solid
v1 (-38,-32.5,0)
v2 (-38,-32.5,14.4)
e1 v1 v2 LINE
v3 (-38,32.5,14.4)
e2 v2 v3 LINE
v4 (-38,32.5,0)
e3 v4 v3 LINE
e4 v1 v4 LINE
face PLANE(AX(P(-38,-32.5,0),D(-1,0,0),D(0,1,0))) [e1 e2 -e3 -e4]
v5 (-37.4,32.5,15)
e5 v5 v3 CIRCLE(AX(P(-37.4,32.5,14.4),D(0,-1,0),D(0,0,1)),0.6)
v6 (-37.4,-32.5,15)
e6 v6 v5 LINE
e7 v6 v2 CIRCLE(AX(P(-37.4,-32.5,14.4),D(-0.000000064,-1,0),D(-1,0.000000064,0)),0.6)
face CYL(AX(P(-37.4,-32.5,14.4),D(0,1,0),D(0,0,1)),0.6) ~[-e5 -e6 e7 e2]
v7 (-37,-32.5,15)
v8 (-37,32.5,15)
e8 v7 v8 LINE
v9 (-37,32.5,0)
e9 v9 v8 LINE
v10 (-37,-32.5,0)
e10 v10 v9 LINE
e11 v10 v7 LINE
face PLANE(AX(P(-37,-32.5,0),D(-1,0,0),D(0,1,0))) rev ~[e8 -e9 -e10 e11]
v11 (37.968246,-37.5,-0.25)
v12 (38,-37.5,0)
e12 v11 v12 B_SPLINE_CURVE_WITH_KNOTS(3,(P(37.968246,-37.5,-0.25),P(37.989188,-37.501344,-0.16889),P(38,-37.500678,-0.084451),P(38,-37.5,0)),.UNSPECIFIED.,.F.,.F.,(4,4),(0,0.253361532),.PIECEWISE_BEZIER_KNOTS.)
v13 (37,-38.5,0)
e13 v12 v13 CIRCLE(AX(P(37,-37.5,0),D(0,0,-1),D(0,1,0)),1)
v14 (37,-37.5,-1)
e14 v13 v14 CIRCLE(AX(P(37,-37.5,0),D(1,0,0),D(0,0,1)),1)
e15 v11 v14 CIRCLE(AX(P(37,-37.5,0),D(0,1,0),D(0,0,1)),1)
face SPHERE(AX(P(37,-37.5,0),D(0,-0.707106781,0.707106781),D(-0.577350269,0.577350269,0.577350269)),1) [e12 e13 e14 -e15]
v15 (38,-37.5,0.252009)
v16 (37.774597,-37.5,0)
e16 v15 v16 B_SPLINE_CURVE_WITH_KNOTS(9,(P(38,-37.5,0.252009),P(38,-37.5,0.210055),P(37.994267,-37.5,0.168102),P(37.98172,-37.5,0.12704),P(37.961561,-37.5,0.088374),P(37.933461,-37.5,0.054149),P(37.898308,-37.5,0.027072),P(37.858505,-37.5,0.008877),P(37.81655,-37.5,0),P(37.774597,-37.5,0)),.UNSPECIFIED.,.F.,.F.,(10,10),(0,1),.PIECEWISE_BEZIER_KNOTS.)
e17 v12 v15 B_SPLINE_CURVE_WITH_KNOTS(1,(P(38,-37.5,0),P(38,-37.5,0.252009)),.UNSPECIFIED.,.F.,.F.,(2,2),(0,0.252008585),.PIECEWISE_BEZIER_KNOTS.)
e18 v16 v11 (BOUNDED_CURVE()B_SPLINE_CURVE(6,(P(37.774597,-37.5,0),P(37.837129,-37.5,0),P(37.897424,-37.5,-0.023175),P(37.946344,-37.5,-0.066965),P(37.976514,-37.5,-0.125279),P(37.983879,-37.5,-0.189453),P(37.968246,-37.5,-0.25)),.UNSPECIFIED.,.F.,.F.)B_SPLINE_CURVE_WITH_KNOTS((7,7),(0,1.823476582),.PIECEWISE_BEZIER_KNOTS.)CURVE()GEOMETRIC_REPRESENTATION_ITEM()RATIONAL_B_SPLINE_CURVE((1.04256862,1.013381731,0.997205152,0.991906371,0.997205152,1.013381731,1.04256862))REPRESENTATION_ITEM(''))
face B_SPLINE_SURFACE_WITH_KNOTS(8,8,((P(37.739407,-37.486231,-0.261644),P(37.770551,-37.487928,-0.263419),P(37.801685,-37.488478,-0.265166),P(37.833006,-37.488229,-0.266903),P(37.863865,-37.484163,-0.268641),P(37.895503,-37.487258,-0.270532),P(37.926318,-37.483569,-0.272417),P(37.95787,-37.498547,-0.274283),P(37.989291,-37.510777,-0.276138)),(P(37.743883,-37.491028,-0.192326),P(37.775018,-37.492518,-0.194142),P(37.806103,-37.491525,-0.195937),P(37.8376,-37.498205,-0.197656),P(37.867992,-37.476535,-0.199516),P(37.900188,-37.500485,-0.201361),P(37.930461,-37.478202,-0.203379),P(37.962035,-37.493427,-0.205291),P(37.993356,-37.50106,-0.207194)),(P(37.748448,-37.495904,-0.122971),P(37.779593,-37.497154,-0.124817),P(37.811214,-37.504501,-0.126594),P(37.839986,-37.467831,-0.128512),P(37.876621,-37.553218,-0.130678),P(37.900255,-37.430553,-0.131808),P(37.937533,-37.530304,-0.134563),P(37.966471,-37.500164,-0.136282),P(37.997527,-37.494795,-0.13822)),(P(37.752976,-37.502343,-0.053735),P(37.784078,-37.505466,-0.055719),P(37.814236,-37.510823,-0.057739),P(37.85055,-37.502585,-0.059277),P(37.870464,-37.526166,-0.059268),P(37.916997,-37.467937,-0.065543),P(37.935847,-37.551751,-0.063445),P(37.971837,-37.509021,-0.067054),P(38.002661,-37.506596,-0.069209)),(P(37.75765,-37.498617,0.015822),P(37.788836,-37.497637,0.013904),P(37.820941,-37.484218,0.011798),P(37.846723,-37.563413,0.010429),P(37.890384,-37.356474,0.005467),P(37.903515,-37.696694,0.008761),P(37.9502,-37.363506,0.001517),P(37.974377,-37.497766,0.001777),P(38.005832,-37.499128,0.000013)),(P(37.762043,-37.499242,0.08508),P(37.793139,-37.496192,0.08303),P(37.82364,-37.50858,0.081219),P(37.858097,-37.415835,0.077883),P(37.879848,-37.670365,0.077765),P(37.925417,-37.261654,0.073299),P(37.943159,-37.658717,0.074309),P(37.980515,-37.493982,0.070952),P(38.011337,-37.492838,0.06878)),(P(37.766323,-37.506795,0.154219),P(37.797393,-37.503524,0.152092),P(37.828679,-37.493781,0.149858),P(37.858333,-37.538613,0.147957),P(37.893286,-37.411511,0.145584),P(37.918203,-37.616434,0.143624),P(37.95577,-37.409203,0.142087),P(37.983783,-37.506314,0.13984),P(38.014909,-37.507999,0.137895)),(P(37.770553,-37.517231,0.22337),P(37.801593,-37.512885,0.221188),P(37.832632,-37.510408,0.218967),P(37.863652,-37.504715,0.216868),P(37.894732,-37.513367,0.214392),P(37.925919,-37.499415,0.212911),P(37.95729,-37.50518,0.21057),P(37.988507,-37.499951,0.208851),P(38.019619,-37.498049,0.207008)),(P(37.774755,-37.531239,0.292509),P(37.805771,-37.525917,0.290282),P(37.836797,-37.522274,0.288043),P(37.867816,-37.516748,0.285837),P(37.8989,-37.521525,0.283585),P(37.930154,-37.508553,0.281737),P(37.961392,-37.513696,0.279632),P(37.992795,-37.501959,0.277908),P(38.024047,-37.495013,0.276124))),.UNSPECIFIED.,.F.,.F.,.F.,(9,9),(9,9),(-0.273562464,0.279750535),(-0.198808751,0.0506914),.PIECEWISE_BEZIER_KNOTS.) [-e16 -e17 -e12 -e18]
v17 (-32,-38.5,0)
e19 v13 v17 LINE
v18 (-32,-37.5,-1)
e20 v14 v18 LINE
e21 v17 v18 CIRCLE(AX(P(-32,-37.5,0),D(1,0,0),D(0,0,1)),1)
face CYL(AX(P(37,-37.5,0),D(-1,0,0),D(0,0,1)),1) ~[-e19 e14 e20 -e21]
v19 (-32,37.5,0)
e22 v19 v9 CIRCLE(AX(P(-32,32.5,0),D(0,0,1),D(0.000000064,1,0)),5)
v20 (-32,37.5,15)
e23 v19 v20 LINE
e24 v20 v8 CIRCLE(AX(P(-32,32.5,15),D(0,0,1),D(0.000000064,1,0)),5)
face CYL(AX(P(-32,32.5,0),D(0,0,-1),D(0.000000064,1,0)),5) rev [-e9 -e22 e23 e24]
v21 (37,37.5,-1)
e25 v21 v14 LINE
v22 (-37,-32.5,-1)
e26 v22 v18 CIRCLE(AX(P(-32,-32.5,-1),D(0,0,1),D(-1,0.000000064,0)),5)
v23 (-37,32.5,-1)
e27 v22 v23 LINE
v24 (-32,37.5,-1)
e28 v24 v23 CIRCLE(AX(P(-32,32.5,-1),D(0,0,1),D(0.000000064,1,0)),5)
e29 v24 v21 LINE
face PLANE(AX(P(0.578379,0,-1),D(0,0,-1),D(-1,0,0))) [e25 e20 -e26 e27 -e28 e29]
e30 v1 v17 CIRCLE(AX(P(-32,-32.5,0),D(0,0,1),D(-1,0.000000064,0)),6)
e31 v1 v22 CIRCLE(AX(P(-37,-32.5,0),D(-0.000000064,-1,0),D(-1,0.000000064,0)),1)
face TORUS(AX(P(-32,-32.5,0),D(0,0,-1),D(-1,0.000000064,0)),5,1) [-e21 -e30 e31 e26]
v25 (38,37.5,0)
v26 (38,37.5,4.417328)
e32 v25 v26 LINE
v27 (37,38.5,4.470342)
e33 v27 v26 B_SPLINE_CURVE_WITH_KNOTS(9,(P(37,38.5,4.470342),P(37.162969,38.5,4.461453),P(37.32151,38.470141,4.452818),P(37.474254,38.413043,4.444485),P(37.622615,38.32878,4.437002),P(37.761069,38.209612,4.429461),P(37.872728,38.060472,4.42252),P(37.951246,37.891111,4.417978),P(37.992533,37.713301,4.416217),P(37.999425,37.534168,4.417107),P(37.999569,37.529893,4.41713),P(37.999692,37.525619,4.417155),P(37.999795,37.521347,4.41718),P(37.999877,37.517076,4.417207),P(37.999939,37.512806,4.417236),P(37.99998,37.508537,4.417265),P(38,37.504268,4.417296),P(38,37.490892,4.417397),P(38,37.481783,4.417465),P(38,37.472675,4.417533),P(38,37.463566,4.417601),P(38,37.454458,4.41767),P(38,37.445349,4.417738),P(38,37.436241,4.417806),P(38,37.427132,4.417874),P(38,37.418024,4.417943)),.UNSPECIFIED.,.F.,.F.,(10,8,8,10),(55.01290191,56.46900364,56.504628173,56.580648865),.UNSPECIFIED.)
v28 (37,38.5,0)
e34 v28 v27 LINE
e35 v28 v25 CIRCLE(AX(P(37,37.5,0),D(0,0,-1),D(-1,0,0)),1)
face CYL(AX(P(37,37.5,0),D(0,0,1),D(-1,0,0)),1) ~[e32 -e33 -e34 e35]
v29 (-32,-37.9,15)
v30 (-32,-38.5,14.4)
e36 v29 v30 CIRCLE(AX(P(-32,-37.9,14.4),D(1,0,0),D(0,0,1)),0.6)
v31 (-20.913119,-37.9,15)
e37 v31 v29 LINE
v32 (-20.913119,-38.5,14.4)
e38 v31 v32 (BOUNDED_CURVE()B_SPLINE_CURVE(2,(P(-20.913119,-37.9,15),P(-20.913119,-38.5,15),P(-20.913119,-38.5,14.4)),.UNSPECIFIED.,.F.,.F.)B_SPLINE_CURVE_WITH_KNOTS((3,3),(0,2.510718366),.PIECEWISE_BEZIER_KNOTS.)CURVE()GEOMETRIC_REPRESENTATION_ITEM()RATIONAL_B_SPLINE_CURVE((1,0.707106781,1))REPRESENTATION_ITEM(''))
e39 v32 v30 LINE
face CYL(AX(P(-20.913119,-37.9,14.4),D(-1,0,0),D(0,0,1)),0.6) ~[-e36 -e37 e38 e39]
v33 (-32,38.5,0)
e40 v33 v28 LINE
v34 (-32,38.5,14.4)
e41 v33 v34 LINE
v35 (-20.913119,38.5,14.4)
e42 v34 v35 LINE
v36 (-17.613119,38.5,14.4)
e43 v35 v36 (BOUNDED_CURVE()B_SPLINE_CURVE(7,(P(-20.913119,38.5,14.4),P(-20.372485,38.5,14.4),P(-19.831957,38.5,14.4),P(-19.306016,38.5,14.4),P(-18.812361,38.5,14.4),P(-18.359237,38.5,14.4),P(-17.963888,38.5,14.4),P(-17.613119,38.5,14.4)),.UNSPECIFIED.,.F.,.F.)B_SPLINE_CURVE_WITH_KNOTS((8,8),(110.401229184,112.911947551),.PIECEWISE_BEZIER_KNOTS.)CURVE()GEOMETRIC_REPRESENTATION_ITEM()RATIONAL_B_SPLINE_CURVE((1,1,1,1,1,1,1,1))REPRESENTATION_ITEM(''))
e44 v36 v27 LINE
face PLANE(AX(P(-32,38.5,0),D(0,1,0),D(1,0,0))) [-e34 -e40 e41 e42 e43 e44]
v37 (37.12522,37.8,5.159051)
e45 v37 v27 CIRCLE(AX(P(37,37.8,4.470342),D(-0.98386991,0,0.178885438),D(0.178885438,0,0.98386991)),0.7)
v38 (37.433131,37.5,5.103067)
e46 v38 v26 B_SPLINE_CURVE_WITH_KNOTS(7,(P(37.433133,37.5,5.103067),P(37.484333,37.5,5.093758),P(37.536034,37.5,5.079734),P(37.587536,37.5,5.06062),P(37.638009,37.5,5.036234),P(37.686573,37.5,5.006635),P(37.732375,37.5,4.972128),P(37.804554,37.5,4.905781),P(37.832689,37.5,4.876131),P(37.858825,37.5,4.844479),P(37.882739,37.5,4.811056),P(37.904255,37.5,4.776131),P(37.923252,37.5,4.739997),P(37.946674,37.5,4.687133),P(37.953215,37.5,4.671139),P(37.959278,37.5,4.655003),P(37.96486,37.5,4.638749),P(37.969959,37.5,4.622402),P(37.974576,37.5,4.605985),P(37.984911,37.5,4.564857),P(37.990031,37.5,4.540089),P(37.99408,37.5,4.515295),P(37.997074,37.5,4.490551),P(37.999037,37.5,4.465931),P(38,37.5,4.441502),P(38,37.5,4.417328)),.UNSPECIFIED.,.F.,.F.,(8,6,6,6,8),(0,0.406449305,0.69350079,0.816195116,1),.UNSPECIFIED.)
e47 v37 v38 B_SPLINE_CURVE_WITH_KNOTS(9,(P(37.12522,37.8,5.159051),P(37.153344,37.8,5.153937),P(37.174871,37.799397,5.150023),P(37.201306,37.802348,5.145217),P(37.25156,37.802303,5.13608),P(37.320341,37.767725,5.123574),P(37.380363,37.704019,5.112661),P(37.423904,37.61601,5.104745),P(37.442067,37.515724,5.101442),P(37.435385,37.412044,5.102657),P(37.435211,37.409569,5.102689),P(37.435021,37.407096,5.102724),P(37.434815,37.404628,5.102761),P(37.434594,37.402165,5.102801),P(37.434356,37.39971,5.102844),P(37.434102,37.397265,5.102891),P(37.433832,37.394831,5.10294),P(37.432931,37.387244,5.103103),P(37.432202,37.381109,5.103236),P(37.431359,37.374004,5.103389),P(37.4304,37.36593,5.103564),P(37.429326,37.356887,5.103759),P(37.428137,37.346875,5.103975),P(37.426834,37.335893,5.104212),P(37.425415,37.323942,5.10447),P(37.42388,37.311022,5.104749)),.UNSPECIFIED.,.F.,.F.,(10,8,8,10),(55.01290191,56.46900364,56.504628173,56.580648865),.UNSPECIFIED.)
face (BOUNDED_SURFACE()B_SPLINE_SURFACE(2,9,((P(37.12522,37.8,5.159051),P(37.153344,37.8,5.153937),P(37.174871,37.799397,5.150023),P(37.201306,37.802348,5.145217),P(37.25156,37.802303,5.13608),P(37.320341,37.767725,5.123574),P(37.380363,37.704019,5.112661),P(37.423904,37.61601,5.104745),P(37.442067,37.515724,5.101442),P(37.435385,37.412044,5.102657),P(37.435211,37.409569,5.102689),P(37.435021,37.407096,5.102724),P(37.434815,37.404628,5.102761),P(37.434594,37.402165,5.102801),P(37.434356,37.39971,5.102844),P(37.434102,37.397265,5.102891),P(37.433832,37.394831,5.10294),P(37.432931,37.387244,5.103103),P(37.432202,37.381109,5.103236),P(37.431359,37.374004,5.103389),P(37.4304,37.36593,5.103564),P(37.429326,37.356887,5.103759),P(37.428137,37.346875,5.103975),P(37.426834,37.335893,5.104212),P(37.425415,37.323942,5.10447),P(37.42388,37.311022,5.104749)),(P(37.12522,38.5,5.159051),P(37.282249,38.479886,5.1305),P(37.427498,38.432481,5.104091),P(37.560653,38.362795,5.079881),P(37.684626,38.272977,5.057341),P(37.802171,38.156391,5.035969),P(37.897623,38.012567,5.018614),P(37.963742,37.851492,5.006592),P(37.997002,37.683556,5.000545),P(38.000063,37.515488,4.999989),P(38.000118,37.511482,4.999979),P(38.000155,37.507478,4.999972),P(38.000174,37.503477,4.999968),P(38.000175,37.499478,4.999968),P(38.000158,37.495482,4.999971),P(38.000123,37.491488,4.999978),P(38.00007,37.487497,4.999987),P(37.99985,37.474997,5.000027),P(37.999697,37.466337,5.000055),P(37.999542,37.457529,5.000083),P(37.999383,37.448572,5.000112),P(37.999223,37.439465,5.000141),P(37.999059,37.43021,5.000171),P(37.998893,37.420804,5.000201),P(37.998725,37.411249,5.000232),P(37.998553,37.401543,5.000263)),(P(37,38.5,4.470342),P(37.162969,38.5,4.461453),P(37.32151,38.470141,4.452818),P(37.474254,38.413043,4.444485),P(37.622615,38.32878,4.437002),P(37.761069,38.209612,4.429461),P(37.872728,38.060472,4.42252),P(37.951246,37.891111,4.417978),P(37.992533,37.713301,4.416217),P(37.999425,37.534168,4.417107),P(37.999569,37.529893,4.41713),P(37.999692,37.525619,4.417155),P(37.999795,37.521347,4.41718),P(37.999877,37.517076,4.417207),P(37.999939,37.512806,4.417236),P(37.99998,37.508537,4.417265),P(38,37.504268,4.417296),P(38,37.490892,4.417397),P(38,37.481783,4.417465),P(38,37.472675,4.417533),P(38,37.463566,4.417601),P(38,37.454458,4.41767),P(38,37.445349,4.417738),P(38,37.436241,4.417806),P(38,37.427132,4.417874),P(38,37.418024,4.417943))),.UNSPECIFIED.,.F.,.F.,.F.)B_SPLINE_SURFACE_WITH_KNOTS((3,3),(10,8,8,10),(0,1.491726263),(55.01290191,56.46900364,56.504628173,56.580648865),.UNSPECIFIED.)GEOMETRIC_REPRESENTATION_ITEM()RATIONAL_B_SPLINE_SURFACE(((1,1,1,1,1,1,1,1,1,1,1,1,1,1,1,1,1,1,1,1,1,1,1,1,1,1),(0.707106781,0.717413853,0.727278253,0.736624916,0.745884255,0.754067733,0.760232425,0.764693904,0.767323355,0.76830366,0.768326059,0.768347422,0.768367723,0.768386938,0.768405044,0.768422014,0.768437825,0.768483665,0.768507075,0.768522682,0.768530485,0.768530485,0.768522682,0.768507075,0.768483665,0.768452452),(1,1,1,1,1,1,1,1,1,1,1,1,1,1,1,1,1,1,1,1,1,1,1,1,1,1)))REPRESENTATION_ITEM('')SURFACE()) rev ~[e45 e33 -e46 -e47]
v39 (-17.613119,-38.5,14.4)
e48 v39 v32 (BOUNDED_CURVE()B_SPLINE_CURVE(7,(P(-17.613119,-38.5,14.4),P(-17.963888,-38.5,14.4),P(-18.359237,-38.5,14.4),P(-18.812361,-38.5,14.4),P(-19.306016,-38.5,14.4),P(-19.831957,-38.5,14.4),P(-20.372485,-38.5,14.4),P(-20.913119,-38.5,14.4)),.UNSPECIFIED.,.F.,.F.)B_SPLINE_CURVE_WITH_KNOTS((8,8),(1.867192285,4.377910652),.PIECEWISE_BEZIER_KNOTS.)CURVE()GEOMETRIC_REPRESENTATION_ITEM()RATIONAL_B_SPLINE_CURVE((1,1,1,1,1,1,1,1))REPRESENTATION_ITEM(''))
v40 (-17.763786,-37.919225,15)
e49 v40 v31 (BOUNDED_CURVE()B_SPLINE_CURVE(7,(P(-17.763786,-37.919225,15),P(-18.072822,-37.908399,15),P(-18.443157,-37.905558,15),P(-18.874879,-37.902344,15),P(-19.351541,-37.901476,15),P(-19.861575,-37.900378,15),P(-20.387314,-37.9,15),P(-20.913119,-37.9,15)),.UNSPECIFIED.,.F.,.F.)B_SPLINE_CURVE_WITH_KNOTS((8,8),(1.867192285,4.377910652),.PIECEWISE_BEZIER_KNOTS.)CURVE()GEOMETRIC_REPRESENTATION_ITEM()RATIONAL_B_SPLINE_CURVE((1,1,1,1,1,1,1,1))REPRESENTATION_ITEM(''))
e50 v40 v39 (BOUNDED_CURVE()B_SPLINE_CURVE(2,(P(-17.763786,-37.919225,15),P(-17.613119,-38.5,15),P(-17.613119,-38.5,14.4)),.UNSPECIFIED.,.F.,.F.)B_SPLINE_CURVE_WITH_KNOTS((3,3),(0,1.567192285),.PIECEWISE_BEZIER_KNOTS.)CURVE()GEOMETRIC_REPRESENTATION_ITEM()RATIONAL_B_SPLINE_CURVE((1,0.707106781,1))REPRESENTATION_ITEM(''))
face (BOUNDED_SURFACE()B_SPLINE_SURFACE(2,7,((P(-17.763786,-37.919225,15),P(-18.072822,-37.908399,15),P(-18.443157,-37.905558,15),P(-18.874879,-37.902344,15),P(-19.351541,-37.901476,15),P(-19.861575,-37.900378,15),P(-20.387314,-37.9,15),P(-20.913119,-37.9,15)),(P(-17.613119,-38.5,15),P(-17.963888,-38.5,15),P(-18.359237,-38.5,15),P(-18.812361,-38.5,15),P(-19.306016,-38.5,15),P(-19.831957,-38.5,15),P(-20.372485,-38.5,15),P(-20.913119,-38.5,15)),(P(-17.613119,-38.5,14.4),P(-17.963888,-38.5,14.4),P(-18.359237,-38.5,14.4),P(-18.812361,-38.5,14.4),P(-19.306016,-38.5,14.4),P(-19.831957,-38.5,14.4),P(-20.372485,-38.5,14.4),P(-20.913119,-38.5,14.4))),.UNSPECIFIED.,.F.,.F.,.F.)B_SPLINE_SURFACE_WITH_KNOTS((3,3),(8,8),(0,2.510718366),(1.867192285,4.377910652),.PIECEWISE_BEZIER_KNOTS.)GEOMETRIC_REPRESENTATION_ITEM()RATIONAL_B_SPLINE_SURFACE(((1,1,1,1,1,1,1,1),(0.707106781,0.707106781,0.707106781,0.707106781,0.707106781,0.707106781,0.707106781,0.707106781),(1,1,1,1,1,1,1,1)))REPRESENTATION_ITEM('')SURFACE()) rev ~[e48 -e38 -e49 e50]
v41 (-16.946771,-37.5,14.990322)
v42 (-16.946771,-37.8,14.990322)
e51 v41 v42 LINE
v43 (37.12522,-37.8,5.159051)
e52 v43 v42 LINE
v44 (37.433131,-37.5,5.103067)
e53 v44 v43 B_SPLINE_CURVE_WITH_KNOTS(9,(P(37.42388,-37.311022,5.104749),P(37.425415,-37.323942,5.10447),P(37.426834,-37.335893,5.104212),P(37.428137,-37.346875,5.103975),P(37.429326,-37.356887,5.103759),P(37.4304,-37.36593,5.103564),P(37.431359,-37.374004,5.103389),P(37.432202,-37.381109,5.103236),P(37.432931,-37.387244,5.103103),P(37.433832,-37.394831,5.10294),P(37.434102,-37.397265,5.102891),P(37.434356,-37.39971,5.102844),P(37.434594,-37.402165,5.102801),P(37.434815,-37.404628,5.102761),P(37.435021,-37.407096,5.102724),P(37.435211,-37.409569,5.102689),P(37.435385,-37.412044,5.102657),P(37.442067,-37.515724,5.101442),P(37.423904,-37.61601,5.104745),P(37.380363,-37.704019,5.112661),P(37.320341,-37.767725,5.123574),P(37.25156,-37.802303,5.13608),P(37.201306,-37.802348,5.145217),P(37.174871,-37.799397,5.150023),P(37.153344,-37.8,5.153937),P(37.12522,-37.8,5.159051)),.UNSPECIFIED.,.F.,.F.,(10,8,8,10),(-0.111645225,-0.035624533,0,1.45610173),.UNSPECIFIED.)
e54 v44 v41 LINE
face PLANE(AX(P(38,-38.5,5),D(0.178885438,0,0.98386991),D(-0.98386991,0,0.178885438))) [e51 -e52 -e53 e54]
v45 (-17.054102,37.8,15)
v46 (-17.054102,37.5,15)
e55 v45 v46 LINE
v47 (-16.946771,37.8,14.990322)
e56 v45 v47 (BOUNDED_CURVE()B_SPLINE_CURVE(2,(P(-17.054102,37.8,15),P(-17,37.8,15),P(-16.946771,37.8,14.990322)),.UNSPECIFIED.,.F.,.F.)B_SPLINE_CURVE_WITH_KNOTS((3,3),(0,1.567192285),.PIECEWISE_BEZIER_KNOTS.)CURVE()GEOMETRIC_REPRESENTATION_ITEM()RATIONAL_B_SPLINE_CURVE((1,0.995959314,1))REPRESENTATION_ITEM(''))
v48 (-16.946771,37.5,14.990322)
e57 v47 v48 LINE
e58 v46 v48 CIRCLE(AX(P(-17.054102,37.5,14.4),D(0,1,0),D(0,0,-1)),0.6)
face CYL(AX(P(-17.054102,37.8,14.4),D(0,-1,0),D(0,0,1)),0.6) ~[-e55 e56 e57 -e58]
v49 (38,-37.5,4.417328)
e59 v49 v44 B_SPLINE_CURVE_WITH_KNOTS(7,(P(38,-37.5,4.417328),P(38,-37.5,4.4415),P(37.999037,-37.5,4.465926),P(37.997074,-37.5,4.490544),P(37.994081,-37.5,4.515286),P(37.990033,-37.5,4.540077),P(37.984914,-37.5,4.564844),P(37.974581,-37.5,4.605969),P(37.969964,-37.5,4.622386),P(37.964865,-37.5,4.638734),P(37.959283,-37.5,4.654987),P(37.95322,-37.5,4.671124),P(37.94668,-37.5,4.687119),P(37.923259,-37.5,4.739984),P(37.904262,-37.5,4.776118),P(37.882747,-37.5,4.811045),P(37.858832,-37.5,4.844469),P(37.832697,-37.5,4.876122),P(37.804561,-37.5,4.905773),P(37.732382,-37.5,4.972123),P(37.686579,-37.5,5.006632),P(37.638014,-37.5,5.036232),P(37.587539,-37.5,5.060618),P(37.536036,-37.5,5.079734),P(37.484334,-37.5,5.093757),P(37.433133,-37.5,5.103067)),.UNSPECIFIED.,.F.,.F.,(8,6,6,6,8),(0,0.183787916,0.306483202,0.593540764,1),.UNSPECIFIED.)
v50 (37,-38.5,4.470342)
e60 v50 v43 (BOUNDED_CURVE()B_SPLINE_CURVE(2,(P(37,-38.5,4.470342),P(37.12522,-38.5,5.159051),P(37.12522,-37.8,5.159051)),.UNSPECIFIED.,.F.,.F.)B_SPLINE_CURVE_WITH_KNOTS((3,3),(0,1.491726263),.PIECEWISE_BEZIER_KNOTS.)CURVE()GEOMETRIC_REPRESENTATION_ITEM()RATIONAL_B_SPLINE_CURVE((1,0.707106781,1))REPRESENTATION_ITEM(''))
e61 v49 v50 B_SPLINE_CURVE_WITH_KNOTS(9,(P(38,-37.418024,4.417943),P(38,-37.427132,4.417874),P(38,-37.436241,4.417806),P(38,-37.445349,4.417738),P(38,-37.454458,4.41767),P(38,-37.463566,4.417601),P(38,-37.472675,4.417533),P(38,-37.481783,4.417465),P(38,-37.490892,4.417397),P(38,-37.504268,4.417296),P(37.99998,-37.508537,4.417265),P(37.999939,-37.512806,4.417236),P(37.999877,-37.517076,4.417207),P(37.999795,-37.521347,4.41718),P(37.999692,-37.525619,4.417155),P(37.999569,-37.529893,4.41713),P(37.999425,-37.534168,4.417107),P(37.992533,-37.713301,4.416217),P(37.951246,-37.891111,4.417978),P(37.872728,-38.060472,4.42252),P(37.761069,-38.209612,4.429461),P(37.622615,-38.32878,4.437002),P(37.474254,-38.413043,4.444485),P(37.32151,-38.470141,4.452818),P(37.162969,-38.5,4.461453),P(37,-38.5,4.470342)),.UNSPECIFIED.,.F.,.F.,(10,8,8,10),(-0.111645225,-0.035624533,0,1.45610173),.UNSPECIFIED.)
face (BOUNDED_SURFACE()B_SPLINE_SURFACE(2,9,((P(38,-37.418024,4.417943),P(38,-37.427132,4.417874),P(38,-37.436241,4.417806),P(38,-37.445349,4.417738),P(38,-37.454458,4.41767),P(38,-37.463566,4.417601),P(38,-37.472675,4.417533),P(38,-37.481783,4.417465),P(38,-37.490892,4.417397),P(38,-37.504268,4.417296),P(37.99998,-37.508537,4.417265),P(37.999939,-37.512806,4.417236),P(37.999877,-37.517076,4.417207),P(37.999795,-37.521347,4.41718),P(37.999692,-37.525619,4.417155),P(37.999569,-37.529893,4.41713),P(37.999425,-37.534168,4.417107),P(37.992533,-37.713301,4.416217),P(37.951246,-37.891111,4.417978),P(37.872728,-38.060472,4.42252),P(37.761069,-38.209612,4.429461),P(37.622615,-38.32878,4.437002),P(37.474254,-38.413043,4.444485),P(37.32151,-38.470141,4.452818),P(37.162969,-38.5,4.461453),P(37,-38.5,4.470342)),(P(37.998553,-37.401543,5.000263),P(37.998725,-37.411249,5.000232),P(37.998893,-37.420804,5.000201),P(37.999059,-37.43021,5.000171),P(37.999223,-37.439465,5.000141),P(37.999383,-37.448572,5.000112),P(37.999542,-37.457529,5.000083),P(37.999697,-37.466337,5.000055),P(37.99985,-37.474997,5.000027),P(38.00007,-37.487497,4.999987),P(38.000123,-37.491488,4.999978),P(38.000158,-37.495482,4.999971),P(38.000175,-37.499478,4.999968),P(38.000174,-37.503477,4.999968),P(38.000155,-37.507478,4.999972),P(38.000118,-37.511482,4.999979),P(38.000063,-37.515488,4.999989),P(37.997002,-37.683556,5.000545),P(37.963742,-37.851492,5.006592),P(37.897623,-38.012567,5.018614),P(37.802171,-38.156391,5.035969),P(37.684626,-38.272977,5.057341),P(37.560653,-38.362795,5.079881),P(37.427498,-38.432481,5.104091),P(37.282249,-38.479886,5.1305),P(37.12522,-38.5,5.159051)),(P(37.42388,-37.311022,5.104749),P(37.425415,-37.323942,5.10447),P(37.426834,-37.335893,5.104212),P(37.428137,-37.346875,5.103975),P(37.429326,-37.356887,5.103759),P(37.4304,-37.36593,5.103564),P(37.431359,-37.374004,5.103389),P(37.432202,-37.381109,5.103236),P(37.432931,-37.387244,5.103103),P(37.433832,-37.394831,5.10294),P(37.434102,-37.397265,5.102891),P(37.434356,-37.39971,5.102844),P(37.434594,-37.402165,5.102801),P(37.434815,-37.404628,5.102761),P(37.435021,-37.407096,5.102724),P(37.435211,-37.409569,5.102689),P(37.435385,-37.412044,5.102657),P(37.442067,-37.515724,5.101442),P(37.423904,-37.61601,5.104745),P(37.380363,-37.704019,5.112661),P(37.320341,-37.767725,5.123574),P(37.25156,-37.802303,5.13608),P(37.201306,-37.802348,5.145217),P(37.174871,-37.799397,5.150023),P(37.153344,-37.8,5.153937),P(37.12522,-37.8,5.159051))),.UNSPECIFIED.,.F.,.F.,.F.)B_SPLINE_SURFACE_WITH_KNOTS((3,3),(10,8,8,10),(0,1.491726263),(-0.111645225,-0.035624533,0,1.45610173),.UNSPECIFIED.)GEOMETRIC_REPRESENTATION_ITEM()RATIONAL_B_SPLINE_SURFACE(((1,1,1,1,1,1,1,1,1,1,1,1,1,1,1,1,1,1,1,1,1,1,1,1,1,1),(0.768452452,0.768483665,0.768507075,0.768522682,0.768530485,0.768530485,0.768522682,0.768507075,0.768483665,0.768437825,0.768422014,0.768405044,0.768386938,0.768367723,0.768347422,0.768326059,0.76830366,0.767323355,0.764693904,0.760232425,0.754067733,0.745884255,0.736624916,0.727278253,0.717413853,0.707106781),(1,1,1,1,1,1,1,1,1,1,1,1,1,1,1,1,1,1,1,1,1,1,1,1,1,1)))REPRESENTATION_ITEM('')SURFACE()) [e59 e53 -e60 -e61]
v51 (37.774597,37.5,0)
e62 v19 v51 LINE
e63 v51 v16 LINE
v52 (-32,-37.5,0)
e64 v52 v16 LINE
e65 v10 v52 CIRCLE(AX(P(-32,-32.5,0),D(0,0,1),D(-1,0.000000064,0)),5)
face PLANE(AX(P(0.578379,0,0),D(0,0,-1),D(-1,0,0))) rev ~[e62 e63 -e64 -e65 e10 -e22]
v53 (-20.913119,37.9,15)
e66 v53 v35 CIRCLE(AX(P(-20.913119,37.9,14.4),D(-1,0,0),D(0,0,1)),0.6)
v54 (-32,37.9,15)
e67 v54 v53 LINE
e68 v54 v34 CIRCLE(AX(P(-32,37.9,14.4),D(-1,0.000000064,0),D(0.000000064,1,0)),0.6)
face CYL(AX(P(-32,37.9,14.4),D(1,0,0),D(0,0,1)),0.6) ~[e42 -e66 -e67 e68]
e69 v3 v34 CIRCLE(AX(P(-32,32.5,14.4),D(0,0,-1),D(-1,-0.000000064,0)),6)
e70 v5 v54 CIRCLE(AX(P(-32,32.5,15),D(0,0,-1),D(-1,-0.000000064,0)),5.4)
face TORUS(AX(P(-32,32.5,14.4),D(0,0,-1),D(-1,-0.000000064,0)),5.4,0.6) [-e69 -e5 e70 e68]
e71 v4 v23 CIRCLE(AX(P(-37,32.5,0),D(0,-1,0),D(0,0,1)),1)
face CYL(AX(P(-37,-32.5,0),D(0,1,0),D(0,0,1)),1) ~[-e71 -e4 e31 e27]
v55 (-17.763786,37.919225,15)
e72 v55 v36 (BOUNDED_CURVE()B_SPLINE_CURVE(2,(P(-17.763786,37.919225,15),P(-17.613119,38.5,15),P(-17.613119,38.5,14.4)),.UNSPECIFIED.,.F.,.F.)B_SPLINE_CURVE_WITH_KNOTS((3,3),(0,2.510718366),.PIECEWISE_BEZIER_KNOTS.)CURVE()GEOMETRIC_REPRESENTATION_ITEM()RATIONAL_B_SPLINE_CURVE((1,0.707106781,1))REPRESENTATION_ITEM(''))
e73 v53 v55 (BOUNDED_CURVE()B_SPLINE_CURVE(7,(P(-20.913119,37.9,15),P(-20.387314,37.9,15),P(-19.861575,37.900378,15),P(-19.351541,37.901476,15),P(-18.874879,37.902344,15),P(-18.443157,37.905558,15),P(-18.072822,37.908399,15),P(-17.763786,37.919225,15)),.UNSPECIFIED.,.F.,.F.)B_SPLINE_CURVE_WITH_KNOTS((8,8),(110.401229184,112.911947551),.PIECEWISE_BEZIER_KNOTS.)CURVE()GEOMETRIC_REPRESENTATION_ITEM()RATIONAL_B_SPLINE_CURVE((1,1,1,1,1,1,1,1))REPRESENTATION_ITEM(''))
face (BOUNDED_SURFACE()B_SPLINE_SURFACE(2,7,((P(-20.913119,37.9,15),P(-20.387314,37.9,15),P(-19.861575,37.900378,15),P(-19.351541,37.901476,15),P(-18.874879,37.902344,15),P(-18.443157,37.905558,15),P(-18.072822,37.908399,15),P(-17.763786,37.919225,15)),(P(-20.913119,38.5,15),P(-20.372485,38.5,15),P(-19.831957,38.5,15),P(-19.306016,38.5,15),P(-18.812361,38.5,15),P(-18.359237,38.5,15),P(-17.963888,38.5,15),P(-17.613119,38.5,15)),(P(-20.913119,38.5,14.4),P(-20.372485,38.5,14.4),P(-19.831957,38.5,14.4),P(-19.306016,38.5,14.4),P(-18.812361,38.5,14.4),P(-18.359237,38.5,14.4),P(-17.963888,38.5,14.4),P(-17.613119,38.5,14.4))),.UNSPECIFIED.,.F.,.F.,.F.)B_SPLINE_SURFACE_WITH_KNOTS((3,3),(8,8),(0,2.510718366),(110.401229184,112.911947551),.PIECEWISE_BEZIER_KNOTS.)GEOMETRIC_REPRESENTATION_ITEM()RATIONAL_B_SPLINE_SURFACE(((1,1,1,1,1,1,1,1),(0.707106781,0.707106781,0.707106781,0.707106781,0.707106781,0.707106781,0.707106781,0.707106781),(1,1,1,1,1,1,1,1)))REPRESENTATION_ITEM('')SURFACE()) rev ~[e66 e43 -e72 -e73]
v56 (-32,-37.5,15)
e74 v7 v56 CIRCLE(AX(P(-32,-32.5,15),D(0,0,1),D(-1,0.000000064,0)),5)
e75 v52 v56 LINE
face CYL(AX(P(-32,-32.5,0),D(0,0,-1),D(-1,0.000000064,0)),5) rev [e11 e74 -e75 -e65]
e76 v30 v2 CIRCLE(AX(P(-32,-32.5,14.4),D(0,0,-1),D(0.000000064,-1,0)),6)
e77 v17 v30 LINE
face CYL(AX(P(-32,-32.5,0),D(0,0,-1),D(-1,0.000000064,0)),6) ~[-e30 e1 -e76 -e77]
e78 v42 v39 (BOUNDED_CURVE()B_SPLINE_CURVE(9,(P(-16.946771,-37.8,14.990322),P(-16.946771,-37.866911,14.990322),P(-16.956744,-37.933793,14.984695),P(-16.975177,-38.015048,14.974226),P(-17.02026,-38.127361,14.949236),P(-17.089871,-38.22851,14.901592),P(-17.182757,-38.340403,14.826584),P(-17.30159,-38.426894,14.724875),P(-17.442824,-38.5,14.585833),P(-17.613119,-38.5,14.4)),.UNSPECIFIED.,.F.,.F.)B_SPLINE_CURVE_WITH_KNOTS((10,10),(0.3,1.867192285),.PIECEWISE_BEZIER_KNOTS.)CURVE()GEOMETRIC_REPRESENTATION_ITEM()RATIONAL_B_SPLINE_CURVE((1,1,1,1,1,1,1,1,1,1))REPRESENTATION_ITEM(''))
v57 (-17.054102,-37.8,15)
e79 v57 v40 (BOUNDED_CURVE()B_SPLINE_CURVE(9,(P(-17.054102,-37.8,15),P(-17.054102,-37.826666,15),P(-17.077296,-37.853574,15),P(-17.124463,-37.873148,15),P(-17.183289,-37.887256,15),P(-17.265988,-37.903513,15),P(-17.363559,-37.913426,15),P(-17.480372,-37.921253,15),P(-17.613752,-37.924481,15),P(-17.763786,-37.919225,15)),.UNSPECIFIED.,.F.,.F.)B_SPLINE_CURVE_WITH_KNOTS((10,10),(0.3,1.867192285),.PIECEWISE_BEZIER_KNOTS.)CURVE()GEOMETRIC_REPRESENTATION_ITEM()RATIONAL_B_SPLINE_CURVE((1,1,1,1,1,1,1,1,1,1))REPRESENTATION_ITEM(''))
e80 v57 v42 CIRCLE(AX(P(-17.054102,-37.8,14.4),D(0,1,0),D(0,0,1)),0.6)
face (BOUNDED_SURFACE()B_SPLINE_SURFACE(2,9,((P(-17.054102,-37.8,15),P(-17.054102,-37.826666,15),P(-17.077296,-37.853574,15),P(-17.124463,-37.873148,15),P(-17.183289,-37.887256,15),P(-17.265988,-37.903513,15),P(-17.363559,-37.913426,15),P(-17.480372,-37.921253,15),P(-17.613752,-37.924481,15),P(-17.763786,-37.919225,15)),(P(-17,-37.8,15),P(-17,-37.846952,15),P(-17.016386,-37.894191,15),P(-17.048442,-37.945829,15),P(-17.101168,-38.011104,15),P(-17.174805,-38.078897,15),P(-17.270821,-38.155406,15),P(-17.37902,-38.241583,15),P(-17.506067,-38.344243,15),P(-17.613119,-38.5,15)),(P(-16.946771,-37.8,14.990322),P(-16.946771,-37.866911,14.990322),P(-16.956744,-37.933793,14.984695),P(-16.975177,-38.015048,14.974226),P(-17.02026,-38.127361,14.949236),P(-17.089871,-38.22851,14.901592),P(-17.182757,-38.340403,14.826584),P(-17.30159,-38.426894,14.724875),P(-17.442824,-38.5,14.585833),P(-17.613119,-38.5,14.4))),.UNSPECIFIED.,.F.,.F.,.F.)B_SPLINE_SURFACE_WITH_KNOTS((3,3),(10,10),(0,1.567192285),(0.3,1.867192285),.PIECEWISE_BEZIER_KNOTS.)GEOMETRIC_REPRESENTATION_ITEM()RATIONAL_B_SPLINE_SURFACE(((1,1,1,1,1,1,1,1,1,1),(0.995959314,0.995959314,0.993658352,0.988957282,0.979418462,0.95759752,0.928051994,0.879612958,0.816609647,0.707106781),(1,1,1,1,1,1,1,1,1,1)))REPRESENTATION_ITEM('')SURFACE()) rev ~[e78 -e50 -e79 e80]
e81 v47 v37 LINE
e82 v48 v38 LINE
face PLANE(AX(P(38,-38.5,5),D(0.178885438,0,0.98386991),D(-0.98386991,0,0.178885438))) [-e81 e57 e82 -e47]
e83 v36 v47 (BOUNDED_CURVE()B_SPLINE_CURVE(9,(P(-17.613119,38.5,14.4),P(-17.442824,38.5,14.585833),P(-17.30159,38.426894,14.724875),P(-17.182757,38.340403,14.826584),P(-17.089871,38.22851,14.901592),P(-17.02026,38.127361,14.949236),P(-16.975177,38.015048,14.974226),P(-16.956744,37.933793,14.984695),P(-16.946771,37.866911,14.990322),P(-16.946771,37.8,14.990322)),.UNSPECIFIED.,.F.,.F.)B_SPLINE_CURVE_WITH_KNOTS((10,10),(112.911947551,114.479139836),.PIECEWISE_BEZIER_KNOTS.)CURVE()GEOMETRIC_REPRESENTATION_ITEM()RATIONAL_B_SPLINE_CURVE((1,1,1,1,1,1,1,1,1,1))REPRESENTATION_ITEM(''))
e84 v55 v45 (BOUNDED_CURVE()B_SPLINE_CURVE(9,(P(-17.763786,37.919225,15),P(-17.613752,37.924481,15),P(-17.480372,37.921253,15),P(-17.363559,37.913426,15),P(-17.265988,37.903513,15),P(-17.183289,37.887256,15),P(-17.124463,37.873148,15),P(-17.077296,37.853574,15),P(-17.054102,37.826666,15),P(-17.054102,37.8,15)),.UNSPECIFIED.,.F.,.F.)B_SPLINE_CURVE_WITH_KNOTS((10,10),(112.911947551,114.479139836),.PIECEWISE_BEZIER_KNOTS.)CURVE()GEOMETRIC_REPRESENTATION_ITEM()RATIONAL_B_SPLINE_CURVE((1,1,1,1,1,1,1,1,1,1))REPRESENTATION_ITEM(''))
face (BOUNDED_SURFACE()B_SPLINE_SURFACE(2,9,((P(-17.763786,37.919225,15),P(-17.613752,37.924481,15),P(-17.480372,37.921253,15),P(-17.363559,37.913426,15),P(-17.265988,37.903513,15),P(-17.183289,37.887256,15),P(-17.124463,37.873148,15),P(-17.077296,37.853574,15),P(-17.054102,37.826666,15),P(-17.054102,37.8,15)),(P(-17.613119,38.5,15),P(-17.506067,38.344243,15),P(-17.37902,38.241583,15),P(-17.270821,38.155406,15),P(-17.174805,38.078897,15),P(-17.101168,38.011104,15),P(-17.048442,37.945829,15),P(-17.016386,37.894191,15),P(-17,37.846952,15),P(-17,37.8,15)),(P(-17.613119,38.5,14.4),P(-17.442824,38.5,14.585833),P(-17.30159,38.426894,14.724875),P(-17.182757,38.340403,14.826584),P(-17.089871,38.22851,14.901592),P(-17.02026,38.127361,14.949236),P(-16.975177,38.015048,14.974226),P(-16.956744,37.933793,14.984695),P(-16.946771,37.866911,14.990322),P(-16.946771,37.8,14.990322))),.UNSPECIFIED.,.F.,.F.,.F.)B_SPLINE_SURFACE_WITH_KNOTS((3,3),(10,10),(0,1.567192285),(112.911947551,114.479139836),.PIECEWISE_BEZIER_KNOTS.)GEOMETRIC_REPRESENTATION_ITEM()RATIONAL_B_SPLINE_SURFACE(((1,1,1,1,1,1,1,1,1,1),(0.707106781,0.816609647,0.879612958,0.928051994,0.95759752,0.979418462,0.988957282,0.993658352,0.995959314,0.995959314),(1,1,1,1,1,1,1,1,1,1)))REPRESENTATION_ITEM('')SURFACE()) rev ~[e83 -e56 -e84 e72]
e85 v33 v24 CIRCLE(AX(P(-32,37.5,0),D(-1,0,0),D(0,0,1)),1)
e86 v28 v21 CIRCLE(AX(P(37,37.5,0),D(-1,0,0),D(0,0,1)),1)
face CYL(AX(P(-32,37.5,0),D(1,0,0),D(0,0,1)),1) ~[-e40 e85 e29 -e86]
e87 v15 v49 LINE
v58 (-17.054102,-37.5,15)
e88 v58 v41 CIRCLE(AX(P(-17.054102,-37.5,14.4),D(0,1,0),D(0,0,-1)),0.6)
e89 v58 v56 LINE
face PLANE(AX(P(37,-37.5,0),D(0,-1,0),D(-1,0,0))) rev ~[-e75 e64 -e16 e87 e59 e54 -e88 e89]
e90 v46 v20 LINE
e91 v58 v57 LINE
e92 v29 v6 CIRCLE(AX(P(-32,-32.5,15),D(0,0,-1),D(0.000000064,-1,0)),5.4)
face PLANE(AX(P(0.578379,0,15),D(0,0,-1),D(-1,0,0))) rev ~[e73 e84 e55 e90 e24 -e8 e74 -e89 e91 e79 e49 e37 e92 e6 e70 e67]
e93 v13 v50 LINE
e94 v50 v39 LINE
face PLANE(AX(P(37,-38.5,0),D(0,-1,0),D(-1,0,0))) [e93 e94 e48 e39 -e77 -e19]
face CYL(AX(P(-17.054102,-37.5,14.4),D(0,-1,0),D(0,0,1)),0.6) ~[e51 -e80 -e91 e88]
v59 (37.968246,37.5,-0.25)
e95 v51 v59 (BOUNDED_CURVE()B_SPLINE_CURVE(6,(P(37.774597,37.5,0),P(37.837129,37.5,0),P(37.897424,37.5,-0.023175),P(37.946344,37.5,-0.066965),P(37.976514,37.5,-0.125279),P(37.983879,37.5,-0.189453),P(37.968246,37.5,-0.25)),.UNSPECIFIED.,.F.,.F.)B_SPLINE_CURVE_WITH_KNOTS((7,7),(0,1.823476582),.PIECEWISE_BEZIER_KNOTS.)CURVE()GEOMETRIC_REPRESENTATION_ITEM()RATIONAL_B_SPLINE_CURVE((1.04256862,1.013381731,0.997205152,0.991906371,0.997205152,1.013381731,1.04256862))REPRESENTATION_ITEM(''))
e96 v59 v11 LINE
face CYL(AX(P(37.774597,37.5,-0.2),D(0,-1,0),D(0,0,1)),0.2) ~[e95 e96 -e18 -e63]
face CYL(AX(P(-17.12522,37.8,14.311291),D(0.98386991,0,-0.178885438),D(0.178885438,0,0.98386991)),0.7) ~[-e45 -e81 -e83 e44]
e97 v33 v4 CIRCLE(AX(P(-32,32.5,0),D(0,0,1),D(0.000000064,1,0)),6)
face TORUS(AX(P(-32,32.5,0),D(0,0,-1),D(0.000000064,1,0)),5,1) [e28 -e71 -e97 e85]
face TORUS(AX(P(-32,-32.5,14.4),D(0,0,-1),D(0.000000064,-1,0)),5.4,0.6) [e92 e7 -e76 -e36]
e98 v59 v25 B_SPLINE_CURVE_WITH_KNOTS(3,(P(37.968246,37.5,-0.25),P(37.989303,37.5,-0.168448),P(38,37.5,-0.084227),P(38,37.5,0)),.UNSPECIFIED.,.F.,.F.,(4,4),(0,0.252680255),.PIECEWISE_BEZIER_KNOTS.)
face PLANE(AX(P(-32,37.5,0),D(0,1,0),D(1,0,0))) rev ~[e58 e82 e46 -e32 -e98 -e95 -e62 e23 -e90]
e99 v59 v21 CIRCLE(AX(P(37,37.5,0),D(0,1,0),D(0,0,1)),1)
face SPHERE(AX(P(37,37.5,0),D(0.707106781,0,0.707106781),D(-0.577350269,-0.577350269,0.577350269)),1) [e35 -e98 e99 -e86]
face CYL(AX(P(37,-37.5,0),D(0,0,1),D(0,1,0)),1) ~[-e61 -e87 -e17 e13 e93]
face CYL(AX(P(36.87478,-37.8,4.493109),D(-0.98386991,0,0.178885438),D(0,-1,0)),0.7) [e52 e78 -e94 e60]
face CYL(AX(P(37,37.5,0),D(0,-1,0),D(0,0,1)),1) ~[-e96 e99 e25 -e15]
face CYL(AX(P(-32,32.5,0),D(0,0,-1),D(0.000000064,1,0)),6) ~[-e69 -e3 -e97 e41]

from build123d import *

# Parameters (mm, degrees)
PAD_DEPTH       = 15
THICKNESS_T     = 1
SKETCH001_W     = 75
SKETCH001_H     = 15
POCKET_DEPTH    = 5
POCKET001_DEPTH = 77.001
FILLET_R        = 0.7
FILLET001_R     = 0.6
FILLET002_R     = 0.2


with BuildPart() as part:
    # Sketch → Pad (new body)
    with BuildSketch(Plane.XY):
        with BuildLine():
            Line((-32, 37.5), (37, 37.5))
            Line((37, 37.5), (37, -37.5))
            Line((37, -37.5), (-32, -37.5))
            ThreePointArc((-37, -32.5), (-35.535534, -36.035534), (-32, -37.5))
            Line((-37, -32.5), (-37, 32.5))
            ThreePointArc((-32, 37.5), (-35.535534, 36.035534), (-37, 32.5))
        make_face()
    extrude(amount=PAD_DEPTH)

    # Thickness
    thickness_openings = [part.faces().sort_by_distance(p)[0] for p in [
        (0.069509, 0, 15),
    ]]
    offset(amount=THICKNESS_T, openings=thickness_openings)

    # Sketch001 (on Face11 of Thickness) → Pocket (cut)
    with BuildSketch(Plane.YZ.offset(38)):
        with Locations((0, 7.5)):
            Rectangle(SKETCH001_W, SKETCH001_H)
    extrude(amount=-POCKET_DEPTH, mode=Mode.SUBTRACT)

    # Sketch002 (on Face14 of Pocket) → Pocket001 (cut, through all)
    with BuildSketch(Plane.XZ.offset(38.5)):
        Polygon((-17, 15), (38, 15), (38, 5), align=None)
    extrude(amount=-POCKET001_DEPTH, mode=Mode.SUBTRACT)

    # Fillet
    fillet_edges = [part.edges().sort_by_distance(p)[0] for p in [
        (10, -38.5, 10.090909),
        (10, 38.5, 10.090909),
    ]]
    fillet(fillet_edges, radius=FILLET_R)

    # Fillet001
    fillet001_edges = [part.edges().sort_by_distance(p)[0] for p in [
        (-38, 0, 15),
    ]]
    fillet(fillet001_edges, radius=FILLET001_R)

    # Fillet002
    fillet002_edges = [part.edges().sort_by_distance(p)[0] for p in [
        (38, 0, 0),
    ]]
    fillet(fillet002_edges, radius=FILLET002_R)


solid = part.part
